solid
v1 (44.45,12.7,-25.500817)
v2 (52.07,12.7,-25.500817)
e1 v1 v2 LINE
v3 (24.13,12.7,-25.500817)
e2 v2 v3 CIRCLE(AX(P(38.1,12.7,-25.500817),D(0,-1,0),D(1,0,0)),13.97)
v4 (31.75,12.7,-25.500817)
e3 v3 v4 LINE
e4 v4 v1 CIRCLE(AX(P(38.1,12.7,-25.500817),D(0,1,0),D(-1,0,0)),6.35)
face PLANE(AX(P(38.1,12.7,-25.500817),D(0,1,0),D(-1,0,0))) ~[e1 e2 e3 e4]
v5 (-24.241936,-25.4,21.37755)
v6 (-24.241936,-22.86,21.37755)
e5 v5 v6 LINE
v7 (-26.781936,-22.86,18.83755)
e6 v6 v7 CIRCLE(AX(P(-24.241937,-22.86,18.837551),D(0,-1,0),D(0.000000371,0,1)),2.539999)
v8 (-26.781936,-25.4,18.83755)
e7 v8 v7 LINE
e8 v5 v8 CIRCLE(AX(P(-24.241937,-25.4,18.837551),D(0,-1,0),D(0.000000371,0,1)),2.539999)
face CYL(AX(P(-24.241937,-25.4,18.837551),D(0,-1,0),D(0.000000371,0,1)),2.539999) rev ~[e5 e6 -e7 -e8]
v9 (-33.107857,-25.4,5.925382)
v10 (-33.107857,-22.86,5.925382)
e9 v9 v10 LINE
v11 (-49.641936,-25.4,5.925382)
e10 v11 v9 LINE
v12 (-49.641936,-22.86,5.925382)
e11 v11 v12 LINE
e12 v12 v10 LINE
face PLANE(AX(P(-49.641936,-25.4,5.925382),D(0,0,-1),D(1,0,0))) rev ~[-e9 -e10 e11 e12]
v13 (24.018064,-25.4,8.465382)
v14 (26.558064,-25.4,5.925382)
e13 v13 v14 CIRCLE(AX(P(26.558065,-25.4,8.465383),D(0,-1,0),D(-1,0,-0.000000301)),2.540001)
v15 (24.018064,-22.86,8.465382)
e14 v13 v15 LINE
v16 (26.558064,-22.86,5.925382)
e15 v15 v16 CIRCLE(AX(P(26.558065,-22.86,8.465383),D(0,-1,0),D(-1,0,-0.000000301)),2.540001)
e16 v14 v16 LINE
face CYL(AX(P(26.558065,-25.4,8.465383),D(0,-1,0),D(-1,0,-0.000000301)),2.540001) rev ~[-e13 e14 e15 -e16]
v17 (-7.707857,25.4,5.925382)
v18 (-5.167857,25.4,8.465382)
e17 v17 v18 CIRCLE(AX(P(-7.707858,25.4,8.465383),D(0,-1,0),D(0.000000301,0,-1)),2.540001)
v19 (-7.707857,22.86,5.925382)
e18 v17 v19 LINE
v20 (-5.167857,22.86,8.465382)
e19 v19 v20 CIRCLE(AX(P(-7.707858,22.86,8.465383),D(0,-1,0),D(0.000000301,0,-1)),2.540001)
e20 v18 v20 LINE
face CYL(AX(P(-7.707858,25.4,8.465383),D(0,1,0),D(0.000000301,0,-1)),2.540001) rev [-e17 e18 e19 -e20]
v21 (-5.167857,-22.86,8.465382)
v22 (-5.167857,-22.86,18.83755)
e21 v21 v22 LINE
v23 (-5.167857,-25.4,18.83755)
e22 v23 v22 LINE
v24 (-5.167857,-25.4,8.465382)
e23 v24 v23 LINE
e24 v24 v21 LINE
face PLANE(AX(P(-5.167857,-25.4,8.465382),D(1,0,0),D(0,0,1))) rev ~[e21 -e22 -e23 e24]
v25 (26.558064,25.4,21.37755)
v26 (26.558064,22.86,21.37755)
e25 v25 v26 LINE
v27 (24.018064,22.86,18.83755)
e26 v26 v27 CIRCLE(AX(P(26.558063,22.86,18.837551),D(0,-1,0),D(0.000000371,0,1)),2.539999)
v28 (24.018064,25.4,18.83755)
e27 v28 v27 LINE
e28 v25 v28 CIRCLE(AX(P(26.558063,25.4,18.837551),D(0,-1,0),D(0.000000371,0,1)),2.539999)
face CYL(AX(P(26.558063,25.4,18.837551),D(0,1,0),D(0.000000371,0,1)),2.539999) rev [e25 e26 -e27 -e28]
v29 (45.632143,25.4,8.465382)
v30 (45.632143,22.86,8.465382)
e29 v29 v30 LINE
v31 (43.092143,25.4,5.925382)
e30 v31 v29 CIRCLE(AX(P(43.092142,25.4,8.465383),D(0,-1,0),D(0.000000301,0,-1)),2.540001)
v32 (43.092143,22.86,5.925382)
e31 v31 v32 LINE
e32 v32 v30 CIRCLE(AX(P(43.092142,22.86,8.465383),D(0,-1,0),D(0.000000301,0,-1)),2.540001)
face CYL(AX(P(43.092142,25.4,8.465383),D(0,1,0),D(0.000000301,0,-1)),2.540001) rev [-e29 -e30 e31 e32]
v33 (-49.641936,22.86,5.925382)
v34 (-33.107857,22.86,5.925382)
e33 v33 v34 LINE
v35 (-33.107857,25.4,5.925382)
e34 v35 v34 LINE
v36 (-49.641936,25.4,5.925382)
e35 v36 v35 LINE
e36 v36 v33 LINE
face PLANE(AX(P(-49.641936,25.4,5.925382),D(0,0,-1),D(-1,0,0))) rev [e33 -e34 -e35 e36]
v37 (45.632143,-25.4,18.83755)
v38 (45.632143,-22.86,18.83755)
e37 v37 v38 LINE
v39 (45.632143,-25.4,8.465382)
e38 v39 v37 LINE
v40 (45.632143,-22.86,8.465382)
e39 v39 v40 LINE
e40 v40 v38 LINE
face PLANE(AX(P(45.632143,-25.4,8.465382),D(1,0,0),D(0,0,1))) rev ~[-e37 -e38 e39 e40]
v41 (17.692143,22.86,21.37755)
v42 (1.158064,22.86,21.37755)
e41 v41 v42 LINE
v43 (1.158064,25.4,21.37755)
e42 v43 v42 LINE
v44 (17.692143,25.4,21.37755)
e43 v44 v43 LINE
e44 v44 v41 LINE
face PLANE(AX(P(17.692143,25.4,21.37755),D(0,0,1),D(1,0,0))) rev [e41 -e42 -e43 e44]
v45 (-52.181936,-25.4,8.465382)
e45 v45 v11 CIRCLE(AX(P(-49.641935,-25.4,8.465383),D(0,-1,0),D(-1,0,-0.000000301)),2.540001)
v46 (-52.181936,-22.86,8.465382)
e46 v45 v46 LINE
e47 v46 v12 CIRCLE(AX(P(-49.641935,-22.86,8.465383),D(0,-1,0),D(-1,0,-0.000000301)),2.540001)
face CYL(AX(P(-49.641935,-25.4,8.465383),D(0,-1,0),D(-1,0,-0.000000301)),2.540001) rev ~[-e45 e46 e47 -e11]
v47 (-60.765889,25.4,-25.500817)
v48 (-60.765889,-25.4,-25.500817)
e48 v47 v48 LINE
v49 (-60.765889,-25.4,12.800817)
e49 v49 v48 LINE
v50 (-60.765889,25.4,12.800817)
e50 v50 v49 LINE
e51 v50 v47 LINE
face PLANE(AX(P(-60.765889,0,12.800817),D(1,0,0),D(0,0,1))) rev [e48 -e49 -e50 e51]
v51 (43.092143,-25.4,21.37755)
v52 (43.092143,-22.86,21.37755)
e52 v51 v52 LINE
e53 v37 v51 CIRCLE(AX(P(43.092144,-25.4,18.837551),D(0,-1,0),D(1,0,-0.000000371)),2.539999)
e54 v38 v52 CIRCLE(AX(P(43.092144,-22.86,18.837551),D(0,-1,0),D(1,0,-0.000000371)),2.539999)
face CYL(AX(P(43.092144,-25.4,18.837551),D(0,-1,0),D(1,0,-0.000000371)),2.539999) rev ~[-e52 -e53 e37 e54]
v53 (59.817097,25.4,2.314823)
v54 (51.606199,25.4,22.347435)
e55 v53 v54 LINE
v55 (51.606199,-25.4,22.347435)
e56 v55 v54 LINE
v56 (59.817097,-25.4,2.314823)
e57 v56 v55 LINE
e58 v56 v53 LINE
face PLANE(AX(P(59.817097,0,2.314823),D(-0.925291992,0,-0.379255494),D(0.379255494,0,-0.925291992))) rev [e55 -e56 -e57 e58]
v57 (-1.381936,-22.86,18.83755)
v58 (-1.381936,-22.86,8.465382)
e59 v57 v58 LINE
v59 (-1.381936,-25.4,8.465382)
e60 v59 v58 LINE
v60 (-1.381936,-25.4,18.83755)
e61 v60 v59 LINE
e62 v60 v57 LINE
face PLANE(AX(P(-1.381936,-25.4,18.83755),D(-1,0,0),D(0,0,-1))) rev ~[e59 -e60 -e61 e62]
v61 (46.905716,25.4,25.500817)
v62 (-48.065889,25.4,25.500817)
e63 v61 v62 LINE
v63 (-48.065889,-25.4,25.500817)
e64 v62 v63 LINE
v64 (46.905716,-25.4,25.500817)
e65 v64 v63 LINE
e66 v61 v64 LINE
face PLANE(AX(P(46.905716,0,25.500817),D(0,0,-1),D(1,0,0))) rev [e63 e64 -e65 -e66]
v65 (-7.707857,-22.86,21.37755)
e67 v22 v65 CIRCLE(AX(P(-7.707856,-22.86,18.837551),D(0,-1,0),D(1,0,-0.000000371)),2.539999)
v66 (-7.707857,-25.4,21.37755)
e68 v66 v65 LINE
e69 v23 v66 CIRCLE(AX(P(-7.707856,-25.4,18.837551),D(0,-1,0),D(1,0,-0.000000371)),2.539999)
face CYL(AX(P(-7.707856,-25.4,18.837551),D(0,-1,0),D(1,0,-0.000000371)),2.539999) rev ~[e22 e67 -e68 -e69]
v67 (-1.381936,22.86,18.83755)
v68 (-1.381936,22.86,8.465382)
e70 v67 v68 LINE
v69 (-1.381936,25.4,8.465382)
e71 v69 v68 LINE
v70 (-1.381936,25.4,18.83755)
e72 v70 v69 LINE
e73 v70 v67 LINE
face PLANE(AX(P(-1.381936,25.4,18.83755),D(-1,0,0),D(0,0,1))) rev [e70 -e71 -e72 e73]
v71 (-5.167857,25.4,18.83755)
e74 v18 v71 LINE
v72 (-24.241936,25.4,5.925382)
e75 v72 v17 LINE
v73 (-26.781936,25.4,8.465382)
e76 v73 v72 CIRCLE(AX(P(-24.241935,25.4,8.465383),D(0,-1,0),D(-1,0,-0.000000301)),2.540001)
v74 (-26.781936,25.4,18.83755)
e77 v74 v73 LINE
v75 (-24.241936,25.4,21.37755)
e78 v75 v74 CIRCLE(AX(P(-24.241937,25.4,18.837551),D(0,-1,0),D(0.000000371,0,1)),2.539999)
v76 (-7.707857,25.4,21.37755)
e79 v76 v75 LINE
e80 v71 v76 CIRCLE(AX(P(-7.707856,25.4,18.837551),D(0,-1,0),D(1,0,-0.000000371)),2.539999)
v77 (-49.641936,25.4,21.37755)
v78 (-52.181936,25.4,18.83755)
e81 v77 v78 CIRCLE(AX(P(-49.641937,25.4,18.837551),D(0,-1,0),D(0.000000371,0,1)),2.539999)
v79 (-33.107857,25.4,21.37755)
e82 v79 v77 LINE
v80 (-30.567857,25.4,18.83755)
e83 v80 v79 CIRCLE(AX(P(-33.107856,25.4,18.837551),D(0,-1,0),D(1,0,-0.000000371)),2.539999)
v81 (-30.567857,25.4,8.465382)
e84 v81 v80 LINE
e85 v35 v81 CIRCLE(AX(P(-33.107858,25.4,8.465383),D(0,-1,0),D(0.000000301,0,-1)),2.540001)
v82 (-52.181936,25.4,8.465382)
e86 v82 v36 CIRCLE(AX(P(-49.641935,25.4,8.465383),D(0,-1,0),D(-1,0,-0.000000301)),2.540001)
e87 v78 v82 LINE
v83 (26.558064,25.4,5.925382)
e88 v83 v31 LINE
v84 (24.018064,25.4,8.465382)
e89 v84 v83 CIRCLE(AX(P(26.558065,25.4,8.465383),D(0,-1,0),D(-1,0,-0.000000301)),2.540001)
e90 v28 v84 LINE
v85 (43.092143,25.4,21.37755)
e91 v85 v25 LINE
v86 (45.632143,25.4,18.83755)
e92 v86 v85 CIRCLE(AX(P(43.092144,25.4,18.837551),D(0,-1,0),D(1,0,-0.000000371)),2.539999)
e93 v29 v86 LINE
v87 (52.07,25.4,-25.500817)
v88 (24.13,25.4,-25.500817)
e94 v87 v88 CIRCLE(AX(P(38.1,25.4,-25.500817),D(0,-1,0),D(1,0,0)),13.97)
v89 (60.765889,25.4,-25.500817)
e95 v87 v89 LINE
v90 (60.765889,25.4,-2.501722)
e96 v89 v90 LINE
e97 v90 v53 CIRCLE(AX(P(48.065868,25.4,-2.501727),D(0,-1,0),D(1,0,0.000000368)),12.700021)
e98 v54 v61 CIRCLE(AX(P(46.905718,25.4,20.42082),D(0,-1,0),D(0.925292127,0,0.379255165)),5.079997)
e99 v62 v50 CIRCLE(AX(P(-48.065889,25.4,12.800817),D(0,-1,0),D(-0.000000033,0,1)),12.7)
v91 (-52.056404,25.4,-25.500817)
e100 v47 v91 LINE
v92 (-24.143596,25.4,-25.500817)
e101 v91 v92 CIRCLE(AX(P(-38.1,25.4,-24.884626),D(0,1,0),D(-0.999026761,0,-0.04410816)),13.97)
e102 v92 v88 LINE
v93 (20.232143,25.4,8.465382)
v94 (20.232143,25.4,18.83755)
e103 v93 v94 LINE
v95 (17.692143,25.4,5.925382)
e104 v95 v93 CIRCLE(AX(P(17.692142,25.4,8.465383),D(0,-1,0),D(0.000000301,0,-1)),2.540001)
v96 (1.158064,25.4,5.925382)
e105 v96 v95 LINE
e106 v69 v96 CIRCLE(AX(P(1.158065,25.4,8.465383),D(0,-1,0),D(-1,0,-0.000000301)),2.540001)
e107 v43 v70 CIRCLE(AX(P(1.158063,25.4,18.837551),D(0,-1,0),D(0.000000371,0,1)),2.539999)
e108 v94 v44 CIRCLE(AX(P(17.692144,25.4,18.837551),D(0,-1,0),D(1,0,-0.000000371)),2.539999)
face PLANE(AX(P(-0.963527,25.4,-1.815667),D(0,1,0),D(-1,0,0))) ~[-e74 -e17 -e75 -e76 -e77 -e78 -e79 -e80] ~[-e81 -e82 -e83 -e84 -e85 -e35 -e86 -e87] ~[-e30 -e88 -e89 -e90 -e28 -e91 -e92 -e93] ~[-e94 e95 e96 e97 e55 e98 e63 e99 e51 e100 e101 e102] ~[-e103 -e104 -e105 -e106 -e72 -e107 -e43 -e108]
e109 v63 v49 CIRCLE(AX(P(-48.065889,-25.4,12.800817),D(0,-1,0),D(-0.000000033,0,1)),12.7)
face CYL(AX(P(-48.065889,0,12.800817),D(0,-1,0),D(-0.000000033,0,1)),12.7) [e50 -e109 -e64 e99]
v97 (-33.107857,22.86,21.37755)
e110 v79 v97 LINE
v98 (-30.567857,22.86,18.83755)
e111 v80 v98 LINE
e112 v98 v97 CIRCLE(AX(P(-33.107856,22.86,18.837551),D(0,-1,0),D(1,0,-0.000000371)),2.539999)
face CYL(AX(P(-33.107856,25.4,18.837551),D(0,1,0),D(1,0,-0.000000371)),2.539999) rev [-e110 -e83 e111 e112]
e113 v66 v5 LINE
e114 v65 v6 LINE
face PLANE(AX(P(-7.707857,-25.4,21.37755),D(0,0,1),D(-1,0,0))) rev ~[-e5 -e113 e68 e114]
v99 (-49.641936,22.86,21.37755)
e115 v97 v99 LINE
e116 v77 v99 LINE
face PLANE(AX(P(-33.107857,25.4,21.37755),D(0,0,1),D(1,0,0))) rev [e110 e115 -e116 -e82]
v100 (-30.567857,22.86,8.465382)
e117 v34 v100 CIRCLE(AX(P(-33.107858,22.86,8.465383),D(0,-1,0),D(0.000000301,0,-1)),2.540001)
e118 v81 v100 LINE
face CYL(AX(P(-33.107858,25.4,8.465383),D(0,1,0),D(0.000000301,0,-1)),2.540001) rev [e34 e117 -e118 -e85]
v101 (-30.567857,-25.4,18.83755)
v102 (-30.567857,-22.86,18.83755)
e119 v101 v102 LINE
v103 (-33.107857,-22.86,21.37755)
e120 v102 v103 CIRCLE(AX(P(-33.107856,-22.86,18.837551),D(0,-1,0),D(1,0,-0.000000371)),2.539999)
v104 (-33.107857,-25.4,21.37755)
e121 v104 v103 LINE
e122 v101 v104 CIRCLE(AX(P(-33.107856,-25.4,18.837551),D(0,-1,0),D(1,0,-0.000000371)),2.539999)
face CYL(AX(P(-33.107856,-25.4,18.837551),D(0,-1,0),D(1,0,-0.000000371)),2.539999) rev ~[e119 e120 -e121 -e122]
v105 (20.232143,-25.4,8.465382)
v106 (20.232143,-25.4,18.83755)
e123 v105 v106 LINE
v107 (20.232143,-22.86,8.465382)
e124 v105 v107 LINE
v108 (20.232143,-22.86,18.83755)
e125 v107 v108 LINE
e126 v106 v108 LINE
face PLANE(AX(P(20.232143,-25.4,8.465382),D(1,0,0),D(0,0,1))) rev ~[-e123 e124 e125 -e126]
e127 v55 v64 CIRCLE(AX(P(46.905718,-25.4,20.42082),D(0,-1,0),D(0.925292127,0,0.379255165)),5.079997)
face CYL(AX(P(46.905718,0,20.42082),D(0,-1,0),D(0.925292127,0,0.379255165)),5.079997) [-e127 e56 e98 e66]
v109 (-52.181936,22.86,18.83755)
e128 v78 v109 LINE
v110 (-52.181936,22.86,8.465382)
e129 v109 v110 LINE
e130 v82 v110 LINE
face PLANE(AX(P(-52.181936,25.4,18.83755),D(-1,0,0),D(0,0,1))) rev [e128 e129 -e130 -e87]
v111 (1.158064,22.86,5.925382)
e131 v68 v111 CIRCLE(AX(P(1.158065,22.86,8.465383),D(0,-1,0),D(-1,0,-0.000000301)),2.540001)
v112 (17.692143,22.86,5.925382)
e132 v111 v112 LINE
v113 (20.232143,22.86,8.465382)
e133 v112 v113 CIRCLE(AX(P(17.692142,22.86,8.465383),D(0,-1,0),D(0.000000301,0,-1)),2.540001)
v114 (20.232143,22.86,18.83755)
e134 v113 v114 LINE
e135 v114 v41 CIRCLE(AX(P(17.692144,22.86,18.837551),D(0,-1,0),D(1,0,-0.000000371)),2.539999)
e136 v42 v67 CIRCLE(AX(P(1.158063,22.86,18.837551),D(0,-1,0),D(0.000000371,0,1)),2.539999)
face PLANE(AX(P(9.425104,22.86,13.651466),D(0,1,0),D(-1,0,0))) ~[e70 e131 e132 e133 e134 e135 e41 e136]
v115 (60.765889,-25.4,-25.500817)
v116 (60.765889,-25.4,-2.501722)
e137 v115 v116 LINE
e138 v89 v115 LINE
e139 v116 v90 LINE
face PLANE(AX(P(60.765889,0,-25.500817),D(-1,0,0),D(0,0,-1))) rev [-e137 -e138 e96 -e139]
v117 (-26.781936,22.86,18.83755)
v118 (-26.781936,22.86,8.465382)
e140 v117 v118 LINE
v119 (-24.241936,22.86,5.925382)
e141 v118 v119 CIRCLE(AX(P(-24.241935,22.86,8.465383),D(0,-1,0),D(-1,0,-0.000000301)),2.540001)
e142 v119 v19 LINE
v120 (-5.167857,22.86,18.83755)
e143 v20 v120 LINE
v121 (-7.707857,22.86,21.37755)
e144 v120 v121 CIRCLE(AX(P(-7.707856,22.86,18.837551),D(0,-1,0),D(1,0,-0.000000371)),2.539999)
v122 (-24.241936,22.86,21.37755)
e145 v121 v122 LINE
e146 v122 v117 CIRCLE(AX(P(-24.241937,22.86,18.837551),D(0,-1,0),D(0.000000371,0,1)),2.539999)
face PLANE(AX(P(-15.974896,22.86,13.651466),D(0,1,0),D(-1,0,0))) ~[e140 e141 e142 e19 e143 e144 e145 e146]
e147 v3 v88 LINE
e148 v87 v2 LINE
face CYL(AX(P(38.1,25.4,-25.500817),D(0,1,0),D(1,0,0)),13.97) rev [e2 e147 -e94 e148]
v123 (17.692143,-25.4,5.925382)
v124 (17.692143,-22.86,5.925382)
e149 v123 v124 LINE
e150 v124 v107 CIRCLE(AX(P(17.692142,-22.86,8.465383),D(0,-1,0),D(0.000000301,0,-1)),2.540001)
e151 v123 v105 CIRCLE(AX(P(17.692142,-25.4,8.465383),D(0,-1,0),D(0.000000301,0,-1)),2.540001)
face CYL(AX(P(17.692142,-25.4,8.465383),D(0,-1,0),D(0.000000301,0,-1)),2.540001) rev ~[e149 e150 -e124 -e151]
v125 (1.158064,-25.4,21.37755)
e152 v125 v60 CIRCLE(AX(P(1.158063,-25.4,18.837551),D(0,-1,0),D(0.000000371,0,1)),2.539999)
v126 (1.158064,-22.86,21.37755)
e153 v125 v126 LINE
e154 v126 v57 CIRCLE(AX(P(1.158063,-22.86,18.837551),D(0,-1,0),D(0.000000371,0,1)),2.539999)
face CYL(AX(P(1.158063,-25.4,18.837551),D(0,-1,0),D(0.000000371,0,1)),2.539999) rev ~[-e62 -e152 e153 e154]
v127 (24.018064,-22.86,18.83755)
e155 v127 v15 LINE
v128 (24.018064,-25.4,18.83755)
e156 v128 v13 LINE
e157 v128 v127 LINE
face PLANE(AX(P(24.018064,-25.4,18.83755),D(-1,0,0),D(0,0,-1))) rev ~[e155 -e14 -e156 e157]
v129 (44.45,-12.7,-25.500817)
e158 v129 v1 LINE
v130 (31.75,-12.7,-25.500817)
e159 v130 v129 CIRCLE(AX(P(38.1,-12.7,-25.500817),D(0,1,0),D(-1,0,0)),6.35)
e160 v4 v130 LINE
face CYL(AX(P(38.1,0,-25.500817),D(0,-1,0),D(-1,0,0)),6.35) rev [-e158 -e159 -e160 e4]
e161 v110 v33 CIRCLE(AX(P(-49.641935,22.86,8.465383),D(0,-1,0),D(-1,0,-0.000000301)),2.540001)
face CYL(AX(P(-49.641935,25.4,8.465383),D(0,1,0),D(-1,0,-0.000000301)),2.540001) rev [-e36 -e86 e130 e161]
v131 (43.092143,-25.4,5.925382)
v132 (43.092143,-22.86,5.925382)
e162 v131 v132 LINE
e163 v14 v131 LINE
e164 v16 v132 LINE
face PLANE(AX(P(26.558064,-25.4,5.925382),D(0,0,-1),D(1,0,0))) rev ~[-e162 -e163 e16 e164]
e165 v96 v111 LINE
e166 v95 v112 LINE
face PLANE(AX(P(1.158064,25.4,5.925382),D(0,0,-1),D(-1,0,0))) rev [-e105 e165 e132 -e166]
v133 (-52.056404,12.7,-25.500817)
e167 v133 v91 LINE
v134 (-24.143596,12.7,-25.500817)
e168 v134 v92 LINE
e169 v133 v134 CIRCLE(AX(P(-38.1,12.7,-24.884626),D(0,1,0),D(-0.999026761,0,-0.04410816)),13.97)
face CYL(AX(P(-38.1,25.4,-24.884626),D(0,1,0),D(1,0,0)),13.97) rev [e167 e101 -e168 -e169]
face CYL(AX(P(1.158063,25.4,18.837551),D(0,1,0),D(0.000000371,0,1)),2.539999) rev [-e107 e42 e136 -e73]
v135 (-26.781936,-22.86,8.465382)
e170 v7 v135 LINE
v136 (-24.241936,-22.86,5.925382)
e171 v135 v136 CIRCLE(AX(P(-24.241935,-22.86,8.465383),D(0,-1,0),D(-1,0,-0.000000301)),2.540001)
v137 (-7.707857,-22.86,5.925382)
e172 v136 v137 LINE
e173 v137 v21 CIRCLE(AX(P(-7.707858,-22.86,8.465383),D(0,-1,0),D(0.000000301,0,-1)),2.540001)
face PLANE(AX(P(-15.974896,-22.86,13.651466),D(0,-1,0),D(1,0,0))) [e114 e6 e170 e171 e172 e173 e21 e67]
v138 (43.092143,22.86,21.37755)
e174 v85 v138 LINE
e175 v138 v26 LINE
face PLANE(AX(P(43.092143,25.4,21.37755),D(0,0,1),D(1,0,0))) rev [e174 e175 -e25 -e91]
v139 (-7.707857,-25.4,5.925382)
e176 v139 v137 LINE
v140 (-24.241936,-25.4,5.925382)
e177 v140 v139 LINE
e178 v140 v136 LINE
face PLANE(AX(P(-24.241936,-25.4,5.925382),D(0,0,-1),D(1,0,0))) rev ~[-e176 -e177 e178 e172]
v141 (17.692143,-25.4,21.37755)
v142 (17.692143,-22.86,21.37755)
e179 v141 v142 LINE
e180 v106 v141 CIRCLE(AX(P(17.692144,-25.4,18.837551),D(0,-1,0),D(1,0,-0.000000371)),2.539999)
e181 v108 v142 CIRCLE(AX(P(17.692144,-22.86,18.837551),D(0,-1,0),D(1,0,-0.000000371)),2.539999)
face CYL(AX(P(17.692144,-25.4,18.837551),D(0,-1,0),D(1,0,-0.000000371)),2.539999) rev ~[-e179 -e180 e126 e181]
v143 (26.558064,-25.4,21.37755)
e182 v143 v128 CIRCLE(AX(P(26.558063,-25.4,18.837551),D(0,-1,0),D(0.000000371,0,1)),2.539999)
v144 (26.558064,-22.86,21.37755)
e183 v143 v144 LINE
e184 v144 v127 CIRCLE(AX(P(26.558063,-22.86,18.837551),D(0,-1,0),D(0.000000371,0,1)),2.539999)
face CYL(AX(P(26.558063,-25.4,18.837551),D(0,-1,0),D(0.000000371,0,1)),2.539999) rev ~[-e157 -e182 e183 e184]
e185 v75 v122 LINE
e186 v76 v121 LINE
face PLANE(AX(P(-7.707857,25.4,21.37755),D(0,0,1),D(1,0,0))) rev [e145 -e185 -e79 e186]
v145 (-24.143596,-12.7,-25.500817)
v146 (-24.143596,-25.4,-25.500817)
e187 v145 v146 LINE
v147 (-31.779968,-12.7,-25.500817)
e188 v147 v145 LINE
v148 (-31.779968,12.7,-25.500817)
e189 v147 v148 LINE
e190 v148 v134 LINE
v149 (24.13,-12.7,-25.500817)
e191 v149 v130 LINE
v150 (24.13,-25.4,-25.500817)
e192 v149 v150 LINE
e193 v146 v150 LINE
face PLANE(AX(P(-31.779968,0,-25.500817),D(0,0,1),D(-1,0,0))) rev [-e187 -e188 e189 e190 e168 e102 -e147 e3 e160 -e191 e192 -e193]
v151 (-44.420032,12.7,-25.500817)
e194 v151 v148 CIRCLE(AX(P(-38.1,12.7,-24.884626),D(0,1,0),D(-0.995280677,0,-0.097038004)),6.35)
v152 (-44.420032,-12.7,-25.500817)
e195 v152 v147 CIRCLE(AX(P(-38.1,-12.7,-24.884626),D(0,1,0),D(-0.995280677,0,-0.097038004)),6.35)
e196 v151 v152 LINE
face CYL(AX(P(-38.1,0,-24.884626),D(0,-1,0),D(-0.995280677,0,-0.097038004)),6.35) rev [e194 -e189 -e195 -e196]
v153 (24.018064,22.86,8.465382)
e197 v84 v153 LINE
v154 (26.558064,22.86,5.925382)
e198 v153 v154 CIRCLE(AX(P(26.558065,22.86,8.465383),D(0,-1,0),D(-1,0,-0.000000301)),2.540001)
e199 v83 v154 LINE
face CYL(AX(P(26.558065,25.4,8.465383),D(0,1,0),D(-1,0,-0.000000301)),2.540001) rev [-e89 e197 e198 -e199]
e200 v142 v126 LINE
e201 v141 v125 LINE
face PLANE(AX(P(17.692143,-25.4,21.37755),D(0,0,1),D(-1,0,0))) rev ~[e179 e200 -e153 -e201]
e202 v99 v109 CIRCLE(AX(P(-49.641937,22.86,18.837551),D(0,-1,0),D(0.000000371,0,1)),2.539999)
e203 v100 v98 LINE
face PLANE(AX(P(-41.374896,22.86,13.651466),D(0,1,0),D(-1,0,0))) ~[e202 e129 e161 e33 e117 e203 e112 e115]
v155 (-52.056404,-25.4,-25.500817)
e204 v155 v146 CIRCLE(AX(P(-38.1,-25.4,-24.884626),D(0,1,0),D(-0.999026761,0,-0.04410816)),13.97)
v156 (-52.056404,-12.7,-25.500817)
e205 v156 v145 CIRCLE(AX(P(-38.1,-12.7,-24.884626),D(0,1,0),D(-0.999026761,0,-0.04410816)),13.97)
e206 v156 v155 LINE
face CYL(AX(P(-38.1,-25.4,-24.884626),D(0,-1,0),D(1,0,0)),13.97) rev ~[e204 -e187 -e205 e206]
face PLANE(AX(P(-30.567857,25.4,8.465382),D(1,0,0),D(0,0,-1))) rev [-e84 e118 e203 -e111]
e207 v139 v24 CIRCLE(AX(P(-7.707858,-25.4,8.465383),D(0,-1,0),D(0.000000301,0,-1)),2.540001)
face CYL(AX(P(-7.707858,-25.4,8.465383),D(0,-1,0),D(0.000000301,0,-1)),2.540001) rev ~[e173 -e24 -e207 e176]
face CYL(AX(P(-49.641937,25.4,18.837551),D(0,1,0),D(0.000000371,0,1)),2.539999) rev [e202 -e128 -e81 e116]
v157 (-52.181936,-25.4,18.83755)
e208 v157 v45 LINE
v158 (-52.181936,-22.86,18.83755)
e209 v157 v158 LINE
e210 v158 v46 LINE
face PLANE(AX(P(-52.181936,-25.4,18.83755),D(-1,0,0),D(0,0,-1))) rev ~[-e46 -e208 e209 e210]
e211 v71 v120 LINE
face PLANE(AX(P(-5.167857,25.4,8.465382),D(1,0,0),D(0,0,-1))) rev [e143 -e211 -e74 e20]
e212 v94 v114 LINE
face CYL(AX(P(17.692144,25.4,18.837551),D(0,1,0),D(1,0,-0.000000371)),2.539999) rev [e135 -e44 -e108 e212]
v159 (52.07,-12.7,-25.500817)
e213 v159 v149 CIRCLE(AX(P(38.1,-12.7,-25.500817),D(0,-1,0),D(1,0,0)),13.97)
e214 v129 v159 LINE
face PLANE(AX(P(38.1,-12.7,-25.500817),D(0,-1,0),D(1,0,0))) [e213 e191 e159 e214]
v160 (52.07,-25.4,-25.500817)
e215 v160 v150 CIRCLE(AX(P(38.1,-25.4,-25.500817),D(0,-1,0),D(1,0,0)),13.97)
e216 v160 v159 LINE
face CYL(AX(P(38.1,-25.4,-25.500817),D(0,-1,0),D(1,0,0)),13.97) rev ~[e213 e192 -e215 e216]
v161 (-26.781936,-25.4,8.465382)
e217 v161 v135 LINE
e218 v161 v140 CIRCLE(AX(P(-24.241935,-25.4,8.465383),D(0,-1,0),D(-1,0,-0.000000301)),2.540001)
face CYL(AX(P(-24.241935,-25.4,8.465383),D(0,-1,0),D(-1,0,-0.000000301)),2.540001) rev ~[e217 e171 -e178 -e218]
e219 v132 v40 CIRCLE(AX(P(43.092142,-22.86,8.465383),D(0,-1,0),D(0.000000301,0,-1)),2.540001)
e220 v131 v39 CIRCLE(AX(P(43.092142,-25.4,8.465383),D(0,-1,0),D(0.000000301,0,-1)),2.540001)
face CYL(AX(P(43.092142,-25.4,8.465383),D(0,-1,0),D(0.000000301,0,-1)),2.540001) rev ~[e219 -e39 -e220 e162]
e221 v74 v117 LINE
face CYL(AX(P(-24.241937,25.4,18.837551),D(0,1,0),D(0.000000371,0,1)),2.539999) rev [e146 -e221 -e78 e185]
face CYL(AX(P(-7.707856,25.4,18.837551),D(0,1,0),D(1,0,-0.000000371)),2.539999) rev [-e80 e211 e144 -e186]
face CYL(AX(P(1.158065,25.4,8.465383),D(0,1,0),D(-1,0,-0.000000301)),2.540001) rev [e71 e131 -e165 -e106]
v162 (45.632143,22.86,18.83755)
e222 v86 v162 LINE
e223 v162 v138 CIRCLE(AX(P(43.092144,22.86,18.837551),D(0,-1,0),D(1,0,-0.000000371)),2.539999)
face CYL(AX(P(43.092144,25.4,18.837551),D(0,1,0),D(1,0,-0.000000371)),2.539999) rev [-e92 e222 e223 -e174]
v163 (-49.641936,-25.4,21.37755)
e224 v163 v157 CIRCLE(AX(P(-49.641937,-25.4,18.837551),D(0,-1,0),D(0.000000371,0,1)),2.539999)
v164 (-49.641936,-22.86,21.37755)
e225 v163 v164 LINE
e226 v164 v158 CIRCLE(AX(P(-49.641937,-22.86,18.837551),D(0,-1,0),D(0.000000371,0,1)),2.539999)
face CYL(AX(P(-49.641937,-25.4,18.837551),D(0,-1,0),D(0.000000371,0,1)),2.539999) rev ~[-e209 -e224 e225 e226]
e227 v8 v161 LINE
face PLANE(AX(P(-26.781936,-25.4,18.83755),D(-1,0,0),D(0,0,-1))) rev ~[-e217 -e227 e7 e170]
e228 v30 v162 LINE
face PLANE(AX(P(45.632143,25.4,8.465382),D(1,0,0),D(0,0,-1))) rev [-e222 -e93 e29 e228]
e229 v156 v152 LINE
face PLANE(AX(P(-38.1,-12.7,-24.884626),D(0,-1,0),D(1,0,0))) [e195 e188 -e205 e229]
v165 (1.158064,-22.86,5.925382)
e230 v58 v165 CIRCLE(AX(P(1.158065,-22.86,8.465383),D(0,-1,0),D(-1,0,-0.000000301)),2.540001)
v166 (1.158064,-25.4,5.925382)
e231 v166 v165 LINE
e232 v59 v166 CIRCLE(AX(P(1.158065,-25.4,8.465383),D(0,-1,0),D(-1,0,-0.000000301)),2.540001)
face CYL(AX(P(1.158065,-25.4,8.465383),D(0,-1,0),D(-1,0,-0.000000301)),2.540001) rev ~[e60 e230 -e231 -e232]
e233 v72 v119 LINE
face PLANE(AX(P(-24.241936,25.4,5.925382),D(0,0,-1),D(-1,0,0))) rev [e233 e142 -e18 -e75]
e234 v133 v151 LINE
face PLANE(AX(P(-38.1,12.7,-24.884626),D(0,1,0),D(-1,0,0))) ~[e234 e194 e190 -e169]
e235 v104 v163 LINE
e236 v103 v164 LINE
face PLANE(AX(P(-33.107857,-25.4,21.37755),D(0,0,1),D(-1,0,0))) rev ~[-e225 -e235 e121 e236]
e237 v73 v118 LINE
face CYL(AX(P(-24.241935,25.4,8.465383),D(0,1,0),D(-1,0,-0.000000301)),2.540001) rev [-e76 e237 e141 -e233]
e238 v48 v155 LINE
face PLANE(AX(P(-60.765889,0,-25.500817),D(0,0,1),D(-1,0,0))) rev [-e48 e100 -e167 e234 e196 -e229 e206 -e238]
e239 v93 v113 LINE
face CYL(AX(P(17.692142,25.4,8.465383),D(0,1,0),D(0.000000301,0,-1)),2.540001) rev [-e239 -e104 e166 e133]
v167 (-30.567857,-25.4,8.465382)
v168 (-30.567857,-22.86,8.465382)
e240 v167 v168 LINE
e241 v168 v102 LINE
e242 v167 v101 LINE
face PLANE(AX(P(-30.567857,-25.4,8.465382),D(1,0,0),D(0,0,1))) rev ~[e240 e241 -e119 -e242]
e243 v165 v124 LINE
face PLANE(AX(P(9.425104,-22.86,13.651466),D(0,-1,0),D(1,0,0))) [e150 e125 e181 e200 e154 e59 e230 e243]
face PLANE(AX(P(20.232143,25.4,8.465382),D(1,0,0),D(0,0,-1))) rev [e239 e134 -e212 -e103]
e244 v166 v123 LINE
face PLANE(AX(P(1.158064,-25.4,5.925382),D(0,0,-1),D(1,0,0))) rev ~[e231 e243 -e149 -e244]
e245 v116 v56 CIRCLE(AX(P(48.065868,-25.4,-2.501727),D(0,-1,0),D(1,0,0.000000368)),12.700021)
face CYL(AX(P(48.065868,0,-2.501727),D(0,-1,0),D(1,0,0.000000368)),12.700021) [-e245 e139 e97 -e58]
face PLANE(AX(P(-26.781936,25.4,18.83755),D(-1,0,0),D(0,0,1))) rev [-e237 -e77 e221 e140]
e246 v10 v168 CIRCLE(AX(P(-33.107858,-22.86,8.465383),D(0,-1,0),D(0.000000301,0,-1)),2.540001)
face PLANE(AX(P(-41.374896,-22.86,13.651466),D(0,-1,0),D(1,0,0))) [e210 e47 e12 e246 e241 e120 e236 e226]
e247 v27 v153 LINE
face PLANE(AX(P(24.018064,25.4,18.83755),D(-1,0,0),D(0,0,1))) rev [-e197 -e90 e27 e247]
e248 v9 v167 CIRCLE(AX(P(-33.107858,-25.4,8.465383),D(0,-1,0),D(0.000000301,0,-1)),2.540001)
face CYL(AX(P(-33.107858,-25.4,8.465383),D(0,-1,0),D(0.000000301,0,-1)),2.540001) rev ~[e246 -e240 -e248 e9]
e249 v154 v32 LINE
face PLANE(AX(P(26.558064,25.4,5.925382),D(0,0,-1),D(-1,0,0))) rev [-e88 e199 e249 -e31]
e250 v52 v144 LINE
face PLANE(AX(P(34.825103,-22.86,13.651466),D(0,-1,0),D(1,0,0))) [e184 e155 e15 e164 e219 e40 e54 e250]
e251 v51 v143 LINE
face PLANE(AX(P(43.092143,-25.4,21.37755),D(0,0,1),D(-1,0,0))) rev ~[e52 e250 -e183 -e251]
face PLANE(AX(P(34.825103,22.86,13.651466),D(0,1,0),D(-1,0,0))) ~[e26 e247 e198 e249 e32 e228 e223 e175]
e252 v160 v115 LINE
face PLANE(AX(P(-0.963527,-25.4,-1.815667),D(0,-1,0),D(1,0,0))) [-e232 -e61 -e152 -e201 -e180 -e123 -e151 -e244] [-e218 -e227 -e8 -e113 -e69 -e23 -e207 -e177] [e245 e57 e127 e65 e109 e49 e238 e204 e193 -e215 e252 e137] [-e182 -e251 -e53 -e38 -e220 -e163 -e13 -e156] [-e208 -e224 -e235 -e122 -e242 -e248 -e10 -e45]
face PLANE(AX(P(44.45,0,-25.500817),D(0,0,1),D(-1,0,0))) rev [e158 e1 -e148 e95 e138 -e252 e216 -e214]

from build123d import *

# Parameters (mm, degrees)
F1_DEPTH = 25.4
F3_DEPTH = 2.54
F4_R     = 13.97
F5_DEPTH = 12.7


with BuildPart() as f1:
    # F0 (on Front) → F1 (new body)
    with BuildSketch(Plane.XZ):
        with BuildLine():
            ThreePointArc((51.606199, 22.347435), (49.735838, 24.639444), (46.905716, 25.500817))
            Line((46.905716, 25.500817), (-48.065889, 25.500817))
            ThreePointArc((-48.065889, 25.500817), (-57.046145, 21.781073), (-60.765889, 12.800817))
            Line((-60.765889, 12.800817), (-60.765889, -25.500817))
            Line((-60.765889, -25.500817), (-44.420032, -25.500817))
            ThreePointArc((-44.420032, -25.500817), (-38.1, -18.534626), (-31.779968, -25.500817))
            Line((-31.779968, -25.500817), (31.75, -25.500817))
            ThreePointArc((31.75, -25.500817), (38.1, -19.150817), (44.45, -25.500817))
            Line((44.45, -25.500817), (60.765889, -25.500817))
            Line((60.765889, -25.500817), (60.765889, -2.501722))
            ThreePointArc((60.765889, -2.501722), (60.526433, -0.047169), (59.817097, 2.314823))
            Line((59.817097, 2.314823), (51.606199, 22.347435))
        make_face()
    extrude(amount=F1_DEPTH)

    # F2 (on face) → F3 (cut)
    with BuildSketch(Plane.XZ.offset(25.4)):
        with BuildLine():
            Line((43.092143, 21.37755), (26.558064, 21.37755))
            ThreePointArc((26.558064, 21.37755), (24.762013, 20.633602), (24.018064, 18.83755))
            Line((24.018064, 18.83755), (24.018064, 8.465382))
            ThreePointArc((24.018064, 8.465382), (24.762013, 6.669331), (26.558064, 5.925382))
            Line((26.558064, 5.925382), (43.092143, 5.925382))
            ThreePointArc((43.092143, 5.925382), (44.888194, 6.669331), (45.632143, 8.465382))
            Line((45.632143, 8.465382), (45.632143, 18.83755))
            ThreePointArc((45.632143, 18.83755), (44.888194, 20.633602), (43.092143, 21.37755))
        make_face()
        with BuildLine():
            Line((20.232143, 8.465382), (20.232143, 18.83755))
            ThreePointArc((20.232143, 18.83755), (19.488194, 20.633602), (17.692143, 21.37755))
            Line((17.692143, 21.37755), (1.158064, 21.37755))
            ThreePointArc((1.158064, 21.37755), (-0.637987, 20.633602), (-1.381936, 18.83755))
            Line((-1.381936, 18.83755), (-1.381936, 8.465382))
            ThreePointArc((-1.381936, 8.465382), (-0.637987, 6.669331), (1.158064, 5.925382))
            Line((1.158064, 5.925382), (17.692143, 5.925382))
            ThreePointArc((17.692143, 5.925382), (19.488194, 6.669331), (20.232143, 8.465382))
        make_face()
        with BuildLine():
            Line((-5.167857, 8.465382), (-5.167857, 18.83755))
            ThreePointArc((-5.167857, 18.83755), (-5.911806, 20.633602), (-7.707857, 21.37755))
            Line((-7.707857, 21.37755), (-24.241936, 21.37755))
            ThreePointArc((-24.241936, 21.37755), (-26.037987, 20.633602), (-26.781936, 18.83755))
            Line((-26.781936, 18.83755), (-26.781936, 8.465382))
            ThreePointArc((-26.781936, 8.465382), (-26.037987, 6.669331), (-24.241936, 5.925382))
            Line((-24.241936, 5.925382), (-7.707857, 5.925382))
            ThreePointArc((-7.707857, 5.925382), (-5.911806, 6.669331), (-5.167857, 8.465382))
        make_face()
        with BuildLine():
            Line((-30.567857, 8.465382), (-30.567857, 18.83755))
            ThreePointArc((-30.567857, 18.83755), (-31.311806, 20.633602), (-33.107857, 21.37755))
            Line((-33.107857, 21.37755), (-49.641936, 21.37755))
            ThreePointArc((-49.641936, 21.37755), (-51.437987, 20.633602), (-52.181936, 18.83755))
            Line((-52.181936, 18.83755), (-52.181936, 8.465382))
            ThreePointArc((-52.181936, 8.465382), (-51.437987, 6.669331), (-49.641936, 5.925382))
            Line((-49.641936, 5.925382), (-33.107857, 5.925382))
            ThreePointArc((-33.107857, 5.925382), (-31.311806, 6.669331), (-30.567857, 8.465382))
        make_face()
    extrude(amount=-F3_DEPTH, mode=Mode.SUBTRACT)

    # F4 (on face) → F5 (cut)
    with BuildSketch(Plane.XZ.offset(25.4)):
        with Locations((-38.1, -24.884626)):
            Circle(F4_R)
        with Locations((38.1, -25.500817)):
            Circle(F4_R)
    extrude(amount=-F5_DEPTH, mode=Mode.SUBTRACT)

    # F6: F1 across plane


with BuildPart() as f1_1:
    add(f1.part)
    add(f1.part.mirror(Plane.XZ))


solid = f1_1.part
